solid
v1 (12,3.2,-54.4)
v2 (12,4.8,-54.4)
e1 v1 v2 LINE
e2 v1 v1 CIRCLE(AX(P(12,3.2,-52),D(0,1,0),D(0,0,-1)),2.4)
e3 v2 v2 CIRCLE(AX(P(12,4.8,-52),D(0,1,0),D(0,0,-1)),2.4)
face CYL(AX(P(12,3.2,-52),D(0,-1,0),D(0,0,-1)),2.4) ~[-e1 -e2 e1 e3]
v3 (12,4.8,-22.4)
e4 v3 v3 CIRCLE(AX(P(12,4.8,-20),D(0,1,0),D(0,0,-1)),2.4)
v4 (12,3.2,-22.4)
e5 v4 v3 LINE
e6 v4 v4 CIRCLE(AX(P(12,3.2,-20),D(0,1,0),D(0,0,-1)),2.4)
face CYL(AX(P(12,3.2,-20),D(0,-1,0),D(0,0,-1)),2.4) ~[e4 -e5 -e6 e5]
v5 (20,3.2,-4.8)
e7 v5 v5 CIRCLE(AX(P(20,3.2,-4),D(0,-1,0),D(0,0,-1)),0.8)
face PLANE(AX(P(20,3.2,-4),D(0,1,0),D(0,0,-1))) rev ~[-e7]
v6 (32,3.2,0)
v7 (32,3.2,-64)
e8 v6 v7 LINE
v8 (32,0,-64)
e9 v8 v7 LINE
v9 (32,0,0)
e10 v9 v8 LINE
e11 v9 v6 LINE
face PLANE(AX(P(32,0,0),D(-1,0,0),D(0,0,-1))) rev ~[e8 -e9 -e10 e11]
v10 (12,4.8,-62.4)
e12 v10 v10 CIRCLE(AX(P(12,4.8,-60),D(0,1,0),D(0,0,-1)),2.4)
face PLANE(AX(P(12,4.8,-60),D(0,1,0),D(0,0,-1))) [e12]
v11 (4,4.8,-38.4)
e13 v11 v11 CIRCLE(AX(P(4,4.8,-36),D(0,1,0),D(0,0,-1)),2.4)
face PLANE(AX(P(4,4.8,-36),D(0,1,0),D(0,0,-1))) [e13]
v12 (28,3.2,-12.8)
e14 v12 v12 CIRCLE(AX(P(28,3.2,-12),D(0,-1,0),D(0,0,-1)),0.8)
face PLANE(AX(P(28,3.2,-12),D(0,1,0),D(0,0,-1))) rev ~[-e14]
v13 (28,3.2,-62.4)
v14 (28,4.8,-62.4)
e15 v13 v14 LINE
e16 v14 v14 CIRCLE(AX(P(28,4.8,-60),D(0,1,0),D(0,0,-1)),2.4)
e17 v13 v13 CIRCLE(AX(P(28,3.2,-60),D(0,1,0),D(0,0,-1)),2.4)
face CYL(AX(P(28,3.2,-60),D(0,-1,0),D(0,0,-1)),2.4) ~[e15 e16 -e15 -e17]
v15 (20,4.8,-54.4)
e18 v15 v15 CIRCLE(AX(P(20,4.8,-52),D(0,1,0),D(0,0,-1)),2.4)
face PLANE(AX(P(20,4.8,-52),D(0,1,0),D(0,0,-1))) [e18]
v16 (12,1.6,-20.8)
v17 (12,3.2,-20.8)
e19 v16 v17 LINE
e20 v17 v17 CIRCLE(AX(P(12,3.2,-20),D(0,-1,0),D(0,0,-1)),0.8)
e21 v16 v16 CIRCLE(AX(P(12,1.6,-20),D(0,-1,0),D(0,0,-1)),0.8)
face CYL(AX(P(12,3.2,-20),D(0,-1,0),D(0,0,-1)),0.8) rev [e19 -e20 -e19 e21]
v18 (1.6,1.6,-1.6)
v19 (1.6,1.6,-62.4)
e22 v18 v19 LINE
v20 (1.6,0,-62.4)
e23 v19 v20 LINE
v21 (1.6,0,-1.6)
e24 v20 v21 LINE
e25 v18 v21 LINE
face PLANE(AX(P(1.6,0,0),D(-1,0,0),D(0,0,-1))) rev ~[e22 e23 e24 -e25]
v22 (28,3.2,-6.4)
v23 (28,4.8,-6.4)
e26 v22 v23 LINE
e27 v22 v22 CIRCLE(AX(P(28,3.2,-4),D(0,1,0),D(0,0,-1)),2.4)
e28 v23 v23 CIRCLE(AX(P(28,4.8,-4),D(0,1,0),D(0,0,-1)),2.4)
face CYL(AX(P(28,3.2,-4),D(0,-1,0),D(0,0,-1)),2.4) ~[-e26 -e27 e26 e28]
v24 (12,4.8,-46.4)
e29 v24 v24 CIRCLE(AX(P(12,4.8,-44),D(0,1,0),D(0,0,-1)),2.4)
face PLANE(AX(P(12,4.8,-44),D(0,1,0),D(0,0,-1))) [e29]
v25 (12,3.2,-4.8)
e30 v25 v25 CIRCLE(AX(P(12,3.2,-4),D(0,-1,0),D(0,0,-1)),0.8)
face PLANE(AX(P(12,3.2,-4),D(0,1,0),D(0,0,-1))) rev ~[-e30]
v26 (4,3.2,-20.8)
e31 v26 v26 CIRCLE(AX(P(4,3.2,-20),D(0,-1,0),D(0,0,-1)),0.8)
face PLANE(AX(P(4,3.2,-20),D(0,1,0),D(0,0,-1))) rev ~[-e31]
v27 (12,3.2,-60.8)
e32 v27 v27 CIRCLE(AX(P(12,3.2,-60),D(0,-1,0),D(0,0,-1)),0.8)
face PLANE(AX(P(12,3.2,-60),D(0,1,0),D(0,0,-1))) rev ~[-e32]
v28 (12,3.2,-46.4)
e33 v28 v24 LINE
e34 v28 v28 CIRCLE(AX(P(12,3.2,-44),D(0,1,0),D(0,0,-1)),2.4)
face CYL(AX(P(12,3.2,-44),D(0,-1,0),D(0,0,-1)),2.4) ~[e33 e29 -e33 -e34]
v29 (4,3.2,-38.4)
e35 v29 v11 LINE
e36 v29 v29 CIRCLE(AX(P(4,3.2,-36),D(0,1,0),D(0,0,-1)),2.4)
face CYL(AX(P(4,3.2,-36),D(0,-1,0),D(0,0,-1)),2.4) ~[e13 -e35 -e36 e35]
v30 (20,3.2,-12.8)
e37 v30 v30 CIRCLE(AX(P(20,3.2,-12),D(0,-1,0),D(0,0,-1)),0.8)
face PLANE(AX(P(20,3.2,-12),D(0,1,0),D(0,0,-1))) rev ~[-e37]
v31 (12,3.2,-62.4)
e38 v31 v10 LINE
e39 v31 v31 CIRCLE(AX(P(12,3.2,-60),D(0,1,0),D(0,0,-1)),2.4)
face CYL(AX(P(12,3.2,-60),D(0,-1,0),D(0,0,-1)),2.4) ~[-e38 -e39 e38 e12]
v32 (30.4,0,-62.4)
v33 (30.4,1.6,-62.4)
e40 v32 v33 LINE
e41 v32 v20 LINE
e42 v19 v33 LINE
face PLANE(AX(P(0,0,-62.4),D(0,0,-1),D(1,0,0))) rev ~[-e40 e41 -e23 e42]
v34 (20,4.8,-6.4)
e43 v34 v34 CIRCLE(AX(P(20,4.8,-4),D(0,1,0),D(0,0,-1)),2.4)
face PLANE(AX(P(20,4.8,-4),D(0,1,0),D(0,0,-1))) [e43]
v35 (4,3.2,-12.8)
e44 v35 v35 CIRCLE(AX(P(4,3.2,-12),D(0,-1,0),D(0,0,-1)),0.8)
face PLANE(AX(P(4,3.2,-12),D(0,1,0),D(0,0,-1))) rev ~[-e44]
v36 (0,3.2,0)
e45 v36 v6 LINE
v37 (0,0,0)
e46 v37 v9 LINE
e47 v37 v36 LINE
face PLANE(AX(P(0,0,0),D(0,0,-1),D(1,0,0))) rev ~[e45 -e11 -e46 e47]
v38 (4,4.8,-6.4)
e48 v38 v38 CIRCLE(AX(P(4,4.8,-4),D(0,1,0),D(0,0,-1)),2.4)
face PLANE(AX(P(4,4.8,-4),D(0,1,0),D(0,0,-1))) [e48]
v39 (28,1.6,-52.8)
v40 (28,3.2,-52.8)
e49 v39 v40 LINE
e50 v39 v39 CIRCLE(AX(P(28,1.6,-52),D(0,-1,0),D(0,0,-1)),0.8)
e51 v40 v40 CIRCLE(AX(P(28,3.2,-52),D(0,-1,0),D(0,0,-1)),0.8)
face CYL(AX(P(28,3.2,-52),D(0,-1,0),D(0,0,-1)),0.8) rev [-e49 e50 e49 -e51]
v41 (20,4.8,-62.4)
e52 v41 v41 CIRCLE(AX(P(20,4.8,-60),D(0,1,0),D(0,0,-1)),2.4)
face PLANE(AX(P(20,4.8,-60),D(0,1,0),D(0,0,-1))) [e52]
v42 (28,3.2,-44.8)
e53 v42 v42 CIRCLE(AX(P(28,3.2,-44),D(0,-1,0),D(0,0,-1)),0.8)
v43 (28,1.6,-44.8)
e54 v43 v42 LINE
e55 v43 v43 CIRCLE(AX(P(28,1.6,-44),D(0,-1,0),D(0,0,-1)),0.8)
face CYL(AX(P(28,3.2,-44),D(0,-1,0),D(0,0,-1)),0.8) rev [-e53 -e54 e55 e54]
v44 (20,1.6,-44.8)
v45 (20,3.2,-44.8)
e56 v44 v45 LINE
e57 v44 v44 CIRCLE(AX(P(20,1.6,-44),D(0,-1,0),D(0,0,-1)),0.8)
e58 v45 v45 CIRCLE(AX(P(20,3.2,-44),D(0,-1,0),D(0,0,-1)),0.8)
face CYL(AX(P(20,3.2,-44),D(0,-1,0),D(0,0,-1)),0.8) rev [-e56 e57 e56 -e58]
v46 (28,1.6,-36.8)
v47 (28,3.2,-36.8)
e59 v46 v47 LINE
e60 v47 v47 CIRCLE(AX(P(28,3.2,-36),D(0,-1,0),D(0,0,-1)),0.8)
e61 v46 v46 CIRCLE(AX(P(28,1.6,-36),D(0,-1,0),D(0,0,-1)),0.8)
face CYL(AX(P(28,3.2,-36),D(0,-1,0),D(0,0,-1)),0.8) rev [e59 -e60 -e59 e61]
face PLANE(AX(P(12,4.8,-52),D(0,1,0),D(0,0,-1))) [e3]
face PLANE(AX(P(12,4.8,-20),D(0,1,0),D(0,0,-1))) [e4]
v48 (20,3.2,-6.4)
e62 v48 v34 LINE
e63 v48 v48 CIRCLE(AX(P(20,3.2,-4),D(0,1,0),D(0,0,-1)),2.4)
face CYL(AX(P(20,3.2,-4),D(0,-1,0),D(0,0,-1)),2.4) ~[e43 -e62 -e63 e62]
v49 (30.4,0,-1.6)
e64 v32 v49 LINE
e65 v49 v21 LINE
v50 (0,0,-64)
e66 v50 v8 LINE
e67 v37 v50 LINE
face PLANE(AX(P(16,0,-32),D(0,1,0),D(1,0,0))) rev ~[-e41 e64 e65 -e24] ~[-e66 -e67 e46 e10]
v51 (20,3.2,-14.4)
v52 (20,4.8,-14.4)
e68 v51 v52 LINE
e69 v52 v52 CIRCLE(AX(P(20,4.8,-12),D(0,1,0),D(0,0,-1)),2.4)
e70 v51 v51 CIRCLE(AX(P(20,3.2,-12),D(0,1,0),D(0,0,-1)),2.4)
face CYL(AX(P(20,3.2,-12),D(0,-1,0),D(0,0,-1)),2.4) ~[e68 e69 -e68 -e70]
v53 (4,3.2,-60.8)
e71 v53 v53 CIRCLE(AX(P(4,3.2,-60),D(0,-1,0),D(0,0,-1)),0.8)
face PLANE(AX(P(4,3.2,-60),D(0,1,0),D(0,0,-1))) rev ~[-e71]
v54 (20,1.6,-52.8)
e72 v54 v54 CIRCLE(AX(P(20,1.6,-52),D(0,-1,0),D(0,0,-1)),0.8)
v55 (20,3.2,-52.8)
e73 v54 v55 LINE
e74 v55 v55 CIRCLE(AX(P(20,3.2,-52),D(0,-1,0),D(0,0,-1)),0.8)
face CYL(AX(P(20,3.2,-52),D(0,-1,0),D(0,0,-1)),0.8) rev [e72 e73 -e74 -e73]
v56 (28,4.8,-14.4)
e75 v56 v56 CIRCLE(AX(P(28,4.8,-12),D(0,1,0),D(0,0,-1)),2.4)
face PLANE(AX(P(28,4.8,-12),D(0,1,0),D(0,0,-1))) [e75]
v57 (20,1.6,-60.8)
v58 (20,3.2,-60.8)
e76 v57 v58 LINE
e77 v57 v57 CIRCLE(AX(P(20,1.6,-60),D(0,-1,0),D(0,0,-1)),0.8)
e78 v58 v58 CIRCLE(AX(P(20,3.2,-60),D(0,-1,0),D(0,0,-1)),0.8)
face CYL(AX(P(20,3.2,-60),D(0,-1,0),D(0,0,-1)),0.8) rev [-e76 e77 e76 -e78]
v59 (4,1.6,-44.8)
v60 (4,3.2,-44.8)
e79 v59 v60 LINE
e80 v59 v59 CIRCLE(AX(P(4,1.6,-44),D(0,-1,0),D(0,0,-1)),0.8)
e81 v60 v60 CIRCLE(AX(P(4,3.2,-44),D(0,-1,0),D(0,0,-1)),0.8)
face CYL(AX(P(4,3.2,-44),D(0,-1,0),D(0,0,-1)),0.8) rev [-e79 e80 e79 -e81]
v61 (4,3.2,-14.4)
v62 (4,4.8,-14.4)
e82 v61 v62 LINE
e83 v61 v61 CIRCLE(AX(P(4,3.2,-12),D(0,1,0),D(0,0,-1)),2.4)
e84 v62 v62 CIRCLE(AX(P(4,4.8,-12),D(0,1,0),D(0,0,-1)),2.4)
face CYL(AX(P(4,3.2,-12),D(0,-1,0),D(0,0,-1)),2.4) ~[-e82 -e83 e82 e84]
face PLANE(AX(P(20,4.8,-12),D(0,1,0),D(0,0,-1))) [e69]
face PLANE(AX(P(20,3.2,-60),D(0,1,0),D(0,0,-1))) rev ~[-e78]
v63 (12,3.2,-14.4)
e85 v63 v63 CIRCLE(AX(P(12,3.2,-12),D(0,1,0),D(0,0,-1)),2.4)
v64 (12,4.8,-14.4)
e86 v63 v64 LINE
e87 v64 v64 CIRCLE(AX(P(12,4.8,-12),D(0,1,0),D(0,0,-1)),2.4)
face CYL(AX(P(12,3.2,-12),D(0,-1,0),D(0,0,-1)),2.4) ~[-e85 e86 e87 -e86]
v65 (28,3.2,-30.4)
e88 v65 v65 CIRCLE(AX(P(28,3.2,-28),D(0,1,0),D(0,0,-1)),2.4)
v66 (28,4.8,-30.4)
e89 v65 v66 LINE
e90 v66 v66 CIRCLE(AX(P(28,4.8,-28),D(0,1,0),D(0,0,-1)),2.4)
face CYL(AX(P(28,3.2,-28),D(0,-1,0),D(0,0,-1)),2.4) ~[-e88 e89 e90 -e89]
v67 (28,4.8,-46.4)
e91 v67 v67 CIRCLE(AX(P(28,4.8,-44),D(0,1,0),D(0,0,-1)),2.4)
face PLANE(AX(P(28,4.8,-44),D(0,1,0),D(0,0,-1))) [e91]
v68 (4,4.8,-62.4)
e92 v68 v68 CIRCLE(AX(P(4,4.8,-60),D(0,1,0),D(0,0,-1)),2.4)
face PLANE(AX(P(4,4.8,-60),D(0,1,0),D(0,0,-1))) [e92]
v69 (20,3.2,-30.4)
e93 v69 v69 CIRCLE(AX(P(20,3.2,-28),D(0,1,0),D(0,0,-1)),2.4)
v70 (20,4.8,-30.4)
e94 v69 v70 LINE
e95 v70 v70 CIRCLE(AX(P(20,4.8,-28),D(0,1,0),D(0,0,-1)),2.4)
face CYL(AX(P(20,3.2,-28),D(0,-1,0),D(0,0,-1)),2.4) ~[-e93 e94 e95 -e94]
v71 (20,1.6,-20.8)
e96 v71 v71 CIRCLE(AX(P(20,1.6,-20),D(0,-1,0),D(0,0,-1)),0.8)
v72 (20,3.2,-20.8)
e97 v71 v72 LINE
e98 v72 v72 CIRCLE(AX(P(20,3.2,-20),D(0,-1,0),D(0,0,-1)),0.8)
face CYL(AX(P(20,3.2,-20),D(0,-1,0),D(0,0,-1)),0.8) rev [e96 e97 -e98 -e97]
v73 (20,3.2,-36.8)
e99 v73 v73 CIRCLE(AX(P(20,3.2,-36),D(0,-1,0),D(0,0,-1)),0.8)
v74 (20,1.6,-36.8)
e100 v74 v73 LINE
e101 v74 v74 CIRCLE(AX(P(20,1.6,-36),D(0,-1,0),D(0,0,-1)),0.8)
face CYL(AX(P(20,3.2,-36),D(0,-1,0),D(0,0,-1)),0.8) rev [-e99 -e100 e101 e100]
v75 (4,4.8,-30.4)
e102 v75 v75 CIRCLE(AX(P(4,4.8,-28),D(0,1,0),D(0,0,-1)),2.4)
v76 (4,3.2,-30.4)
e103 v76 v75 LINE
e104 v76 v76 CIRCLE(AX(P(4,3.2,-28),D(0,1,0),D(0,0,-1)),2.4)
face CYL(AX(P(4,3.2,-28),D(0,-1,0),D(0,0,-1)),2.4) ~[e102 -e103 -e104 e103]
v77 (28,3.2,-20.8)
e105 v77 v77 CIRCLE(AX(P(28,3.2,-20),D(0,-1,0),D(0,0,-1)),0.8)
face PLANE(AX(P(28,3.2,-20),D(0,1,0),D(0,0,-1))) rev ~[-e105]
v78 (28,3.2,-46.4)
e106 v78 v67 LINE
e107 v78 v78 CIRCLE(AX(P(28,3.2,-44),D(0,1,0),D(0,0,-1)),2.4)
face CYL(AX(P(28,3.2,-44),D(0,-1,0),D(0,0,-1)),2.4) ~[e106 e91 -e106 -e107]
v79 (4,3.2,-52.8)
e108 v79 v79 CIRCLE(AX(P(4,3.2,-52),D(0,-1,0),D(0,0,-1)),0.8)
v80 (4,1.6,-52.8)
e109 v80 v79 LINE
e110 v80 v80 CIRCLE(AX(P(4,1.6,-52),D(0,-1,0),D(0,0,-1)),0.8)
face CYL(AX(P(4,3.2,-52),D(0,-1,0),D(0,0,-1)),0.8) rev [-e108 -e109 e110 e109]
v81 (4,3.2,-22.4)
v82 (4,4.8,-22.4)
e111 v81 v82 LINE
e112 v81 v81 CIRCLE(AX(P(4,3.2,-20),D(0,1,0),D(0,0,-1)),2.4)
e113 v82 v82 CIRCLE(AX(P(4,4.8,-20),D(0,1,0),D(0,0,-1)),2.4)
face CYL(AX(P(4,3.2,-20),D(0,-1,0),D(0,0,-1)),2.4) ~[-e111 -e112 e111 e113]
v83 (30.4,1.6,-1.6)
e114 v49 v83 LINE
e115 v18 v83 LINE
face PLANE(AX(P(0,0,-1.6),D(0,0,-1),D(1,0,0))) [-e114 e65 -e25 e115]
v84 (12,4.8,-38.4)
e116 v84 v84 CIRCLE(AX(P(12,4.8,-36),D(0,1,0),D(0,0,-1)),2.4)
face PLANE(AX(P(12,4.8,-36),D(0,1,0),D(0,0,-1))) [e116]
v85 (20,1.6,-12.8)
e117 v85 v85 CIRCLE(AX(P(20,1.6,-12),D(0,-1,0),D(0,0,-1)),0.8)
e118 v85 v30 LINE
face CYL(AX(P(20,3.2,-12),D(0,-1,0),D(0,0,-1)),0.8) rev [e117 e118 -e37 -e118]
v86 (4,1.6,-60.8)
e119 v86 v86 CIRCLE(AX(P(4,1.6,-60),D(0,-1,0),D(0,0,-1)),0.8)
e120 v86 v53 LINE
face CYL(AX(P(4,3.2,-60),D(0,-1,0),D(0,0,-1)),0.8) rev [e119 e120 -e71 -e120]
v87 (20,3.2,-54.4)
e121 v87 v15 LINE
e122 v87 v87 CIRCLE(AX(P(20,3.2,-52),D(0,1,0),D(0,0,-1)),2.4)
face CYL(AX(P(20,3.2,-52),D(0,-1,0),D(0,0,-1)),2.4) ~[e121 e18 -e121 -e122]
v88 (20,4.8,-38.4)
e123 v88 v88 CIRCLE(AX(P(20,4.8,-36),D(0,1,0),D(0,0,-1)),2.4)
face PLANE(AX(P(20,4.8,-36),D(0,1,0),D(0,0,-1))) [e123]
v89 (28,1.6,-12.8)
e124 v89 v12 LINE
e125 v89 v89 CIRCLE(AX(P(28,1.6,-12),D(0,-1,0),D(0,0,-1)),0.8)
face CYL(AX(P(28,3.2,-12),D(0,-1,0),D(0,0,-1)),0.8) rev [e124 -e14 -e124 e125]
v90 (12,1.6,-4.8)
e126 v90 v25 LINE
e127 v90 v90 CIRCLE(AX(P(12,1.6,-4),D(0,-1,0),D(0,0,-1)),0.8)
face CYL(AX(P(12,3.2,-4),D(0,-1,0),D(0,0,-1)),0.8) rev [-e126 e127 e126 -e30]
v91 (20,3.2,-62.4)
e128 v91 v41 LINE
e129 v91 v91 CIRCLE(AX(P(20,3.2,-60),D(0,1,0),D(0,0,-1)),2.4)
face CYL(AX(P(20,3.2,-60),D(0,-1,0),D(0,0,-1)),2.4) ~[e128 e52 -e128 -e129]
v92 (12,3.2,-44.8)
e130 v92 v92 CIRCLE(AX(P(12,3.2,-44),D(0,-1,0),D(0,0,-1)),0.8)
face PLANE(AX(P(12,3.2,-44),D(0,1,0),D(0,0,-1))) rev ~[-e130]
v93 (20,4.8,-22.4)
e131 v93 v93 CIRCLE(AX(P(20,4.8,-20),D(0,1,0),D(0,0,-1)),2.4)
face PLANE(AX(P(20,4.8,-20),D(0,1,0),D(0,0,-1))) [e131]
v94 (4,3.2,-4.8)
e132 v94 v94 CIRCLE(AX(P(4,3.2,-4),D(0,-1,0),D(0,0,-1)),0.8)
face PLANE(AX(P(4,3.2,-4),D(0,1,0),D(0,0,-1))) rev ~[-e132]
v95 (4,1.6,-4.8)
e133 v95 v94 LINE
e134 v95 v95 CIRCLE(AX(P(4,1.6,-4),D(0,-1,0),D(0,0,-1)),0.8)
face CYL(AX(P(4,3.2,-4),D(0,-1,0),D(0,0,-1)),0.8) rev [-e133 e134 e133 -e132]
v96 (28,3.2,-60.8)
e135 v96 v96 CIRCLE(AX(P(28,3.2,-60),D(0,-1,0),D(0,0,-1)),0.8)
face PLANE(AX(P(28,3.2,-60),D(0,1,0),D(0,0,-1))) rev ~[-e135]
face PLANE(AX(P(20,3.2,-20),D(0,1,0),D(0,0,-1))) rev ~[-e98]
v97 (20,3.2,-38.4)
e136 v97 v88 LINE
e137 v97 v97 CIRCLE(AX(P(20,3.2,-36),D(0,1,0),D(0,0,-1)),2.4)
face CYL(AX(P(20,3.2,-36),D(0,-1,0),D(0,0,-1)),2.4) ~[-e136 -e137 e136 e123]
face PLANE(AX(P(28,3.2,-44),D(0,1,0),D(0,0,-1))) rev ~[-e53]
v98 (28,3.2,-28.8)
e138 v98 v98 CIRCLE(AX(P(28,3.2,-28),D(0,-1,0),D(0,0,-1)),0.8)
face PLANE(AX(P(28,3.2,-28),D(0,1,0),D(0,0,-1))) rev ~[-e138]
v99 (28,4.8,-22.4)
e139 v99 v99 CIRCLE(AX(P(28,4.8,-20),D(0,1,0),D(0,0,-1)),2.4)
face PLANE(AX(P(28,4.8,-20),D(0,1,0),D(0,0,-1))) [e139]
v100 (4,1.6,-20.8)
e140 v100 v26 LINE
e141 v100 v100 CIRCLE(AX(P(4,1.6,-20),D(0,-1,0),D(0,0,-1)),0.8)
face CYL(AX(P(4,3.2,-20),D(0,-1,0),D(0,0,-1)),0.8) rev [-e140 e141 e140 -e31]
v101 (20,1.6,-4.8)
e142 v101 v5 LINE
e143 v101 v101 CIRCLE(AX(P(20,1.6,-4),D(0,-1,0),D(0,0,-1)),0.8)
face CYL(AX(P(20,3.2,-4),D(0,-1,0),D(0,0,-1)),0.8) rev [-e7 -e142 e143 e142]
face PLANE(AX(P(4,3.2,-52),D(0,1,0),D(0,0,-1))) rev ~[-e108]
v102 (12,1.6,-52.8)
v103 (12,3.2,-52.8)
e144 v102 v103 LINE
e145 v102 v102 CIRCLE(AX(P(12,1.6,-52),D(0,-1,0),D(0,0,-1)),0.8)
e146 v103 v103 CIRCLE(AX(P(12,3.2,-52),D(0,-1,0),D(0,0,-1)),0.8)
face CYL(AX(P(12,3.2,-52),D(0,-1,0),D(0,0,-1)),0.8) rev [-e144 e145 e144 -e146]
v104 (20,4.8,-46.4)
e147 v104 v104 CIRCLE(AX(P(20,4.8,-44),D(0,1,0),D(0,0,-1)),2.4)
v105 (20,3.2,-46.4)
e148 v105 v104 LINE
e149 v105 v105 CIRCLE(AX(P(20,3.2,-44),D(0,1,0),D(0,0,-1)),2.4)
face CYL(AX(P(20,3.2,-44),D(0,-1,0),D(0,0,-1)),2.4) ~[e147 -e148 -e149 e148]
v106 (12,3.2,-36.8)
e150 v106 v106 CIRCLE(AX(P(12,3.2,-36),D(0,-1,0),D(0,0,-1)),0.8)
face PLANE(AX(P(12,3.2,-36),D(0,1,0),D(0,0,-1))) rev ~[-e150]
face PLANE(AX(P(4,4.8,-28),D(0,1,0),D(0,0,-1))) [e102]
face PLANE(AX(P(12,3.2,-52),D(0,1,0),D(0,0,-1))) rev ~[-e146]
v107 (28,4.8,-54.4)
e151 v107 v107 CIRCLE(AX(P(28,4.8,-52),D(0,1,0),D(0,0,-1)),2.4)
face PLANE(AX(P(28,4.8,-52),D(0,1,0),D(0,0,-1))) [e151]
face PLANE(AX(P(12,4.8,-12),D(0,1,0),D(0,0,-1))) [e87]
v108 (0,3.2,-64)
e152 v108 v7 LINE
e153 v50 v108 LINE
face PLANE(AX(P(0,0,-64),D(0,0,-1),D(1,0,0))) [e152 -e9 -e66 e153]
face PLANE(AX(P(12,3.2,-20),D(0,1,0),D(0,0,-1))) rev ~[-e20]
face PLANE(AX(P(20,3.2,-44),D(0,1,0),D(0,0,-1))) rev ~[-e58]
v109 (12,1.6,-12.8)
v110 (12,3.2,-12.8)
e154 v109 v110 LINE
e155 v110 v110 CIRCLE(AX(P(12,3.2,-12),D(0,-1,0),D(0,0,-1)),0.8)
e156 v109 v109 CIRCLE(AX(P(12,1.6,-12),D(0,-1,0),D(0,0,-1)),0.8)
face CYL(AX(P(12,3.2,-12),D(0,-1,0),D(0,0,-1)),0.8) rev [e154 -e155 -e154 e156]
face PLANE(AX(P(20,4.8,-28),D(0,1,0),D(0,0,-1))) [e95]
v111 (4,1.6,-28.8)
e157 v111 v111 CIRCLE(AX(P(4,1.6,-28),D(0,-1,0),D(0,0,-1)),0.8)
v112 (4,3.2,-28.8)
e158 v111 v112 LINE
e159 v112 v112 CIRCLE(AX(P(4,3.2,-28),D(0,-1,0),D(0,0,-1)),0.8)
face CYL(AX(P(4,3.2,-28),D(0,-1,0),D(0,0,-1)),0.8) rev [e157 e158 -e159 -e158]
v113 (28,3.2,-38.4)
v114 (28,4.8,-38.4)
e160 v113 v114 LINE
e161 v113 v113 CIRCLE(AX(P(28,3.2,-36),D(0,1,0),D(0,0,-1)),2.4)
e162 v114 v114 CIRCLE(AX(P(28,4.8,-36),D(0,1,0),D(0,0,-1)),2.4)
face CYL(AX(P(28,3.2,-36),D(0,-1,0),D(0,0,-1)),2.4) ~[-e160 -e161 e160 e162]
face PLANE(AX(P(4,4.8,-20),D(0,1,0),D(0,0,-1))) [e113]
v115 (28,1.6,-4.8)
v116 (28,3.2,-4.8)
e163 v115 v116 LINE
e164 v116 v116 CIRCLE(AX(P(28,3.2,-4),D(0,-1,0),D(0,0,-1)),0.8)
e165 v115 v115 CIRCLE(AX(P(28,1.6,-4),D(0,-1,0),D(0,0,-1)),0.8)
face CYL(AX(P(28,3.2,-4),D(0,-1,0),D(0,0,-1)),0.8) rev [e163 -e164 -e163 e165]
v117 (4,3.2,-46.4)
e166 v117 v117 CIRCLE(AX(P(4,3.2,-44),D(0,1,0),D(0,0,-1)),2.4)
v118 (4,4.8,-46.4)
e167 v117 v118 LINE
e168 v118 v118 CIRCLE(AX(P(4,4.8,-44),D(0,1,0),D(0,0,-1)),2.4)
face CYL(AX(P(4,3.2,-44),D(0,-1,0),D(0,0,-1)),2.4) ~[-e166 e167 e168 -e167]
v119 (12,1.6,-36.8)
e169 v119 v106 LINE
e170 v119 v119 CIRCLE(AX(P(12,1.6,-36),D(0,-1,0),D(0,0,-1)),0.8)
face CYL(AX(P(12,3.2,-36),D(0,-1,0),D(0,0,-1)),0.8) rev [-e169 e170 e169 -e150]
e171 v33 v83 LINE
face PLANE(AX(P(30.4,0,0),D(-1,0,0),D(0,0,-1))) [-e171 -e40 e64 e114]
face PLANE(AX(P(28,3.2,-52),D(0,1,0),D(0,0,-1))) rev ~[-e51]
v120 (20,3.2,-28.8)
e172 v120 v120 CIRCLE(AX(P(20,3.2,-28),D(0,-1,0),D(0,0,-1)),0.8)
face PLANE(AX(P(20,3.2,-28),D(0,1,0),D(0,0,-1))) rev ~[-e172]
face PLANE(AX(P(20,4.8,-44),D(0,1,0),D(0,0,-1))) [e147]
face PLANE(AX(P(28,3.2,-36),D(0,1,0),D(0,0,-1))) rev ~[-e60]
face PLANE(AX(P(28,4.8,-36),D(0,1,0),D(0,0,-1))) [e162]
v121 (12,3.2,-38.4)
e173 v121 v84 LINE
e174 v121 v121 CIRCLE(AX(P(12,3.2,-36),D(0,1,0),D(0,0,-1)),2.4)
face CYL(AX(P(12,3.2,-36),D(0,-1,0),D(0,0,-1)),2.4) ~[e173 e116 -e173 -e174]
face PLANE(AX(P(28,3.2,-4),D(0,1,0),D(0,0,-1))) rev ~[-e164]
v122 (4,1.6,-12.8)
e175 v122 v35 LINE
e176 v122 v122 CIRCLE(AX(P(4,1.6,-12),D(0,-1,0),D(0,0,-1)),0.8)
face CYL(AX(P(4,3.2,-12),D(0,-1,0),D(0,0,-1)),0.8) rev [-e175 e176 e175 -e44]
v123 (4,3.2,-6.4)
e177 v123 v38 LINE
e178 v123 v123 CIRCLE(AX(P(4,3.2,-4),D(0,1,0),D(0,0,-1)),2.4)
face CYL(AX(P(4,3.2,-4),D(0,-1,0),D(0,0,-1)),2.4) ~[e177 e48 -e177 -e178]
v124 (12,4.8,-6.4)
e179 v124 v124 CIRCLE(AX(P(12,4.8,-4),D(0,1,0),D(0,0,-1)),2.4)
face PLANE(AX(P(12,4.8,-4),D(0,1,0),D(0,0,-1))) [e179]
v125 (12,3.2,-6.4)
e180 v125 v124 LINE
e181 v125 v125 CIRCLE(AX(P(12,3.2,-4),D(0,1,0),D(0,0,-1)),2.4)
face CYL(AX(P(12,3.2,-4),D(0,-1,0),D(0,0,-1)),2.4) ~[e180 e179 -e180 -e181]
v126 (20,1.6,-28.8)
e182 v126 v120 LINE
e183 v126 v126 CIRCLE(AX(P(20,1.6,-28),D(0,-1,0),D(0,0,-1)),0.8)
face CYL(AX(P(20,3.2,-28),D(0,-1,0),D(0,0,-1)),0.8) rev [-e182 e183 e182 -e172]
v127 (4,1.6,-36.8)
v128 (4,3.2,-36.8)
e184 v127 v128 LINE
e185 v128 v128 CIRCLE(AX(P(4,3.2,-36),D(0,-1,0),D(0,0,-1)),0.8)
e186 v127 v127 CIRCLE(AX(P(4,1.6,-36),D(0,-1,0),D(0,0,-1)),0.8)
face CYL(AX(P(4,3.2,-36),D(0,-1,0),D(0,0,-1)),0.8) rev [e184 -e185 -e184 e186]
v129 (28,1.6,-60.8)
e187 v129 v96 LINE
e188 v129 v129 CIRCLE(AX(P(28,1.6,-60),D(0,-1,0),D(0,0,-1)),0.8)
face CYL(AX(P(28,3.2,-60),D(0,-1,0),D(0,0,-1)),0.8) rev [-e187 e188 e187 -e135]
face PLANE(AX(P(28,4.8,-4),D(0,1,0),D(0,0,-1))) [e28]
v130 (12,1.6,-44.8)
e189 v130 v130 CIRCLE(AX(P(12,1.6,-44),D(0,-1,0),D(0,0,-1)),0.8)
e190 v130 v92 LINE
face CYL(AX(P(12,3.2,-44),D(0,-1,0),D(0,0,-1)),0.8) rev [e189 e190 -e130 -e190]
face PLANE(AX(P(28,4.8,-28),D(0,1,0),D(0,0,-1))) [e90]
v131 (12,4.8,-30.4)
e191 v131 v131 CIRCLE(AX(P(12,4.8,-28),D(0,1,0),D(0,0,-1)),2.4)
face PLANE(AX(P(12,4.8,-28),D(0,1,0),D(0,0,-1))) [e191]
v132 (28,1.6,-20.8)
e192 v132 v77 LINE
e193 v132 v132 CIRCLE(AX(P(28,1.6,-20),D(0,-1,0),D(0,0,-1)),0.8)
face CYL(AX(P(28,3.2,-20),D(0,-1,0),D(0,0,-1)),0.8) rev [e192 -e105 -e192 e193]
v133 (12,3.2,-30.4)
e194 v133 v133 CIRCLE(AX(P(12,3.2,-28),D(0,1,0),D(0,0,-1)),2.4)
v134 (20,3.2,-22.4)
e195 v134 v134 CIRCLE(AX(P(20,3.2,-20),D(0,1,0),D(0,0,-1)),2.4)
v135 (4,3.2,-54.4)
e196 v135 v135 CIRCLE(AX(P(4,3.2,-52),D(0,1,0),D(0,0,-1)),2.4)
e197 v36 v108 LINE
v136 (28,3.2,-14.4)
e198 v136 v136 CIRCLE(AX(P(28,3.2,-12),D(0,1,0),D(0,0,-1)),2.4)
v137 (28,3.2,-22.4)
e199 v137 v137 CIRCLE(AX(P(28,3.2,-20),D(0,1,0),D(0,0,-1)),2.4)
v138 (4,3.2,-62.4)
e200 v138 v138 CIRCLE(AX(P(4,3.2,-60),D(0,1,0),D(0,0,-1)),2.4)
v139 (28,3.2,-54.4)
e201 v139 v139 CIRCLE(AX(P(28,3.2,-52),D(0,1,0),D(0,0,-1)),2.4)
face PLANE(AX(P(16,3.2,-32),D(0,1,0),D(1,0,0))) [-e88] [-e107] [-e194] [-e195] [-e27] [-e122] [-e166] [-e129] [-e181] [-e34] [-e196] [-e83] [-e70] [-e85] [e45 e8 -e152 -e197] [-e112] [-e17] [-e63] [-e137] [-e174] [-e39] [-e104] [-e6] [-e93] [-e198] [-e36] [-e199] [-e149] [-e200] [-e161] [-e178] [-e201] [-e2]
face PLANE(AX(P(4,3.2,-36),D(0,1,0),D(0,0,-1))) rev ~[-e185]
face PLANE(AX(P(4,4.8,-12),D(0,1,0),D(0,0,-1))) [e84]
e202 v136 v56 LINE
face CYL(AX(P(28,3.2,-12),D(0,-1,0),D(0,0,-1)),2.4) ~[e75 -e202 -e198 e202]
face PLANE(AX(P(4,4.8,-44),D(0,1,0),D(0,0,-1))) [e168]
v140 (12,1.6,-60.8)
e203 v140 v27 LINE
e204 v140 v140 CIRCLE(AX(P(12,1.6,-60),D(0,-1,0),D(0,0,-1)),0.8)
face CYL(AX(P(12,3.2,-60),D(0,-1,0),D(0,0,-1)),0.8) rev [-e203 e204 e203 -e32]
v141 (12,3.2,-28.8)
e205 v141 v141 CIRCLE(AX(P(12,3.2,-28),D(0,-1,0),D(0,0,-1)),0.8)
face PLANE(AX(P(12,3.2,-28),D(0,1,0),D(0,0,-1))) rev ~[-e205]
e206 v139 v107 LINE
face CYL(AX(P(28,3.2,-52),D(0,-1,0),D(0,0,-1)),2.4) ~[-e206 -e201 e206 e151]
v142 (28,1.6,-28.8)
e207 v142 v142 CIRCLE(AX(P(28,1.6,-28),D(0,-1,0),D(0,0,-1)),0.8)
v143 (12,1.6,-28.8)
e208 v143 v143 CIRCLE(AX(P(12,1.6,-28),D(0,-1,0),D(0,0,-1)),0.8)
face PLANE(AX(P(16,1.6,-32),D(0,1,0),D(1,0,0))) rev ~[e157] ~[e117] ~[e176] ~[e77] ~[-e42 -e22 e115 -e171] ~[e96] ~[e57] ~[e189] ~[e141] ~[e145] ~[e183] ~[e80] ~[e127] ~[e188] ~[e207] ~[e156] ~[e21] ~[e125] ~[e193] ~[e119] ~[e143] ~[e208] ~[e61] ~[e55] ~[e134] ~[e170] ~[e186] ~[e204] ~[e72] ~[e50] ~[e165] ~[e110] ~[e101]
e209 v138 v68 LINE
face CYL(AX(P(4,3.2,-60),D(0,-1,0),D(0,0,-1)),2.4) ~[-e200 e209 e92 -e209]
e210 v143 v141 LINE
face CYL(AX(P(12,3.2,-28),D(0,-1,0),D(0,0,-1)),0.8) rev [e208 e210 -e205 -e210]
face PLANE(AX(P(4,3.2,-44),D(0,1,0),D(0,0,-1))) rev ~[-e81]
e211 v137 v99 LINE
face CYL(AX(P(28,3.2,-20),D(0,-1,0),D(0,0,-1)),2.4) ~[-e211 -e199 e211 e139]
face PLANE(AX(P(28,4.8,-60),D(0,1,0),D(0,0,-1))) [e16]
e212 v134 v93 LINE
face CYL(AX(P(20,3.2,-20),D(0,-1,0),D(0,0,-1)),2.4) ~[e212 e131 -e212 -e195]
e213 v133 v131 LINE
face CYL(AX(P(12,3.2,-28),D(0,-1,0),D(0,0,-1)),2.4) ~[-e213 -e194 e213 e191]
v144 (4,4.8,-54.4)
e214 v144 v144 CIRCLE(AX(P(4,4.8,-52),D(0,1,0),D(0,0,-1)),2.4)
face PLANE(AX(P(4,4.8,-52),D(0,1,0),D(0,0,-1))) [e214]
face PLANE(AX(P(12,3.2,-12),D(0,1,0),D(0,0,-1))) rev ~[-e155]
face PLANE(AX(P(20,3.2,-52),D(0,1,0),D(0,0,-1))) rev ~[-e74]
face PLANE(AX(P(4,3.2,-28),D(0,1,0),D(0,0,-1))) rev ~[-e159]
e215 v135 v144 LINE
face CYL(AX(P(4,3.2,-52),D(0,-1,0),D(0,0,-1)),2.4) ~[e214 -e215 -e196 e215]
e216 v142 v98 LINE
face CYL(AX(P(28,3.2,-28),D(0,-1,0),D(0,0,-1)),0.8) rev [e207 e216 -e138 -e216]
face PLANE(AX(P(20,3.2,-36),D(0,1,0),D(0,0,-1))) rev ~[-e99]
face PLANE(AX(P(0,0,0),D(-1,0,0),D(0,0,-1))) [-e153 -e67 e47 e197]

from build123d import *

# Parameters (mm, degrees)
SKETCH1_W            = 32
SKETCH1_H            = 64
BOSS_EXTRUDE1_DEPTH  = 3.2
SKETCH2_R            = 2.4
BOSS_EXTRUDE2_DEPTH  = 1.6
LPATTERN1_COUNT      = 4
LPATTERN1_PITCH      = 8
LPATTERN1_COUNT_DIR2 = 8
LPATTERN1_PITCH_DIR2 = 8
SHELL1_T             = -1.6


with BuildPart() as part:
    # Sketch1 → Boss-Extrude1 (new body)
    with BuildSketch(Plane(origin=(0, 0, 0), x_dir=(1, 0, 0), z_dir=(0, 1, 0))):
        with Locations((16, 32)):
            Rectangle(SKETCH1_W, SKETCH1_H)
    extrude(amount=BOSS_EXTRUDE1_DEPTH)

    # Sketch2 → Boss-Extrude2 (add)
    with BuildSketch(Plane(origin=(0, 3.2, 0), x_dir=(1, 0, 0), z_dir=(0, 1, 0))):
        with Locations(Location((28, 4, 0), (0, 0, 90))):
            Circle(SKETCH2_R)
    boss_extrude2 = extrude(amount=BOSS_EXTRUDE2_DEPTH)

    # LPattern1: Boss-Extrude2 4 × 8
    with Locations(*[(-i * LPATTERN1_PITCH, 0, -j * LPATTERN1_PITCH_DIR2) for i in range(LPATTERN1_COUNT) for j in range(LPATTERN1_COUNT_DIR2) if (i, j) != (0, 0)]):
        add(boss_extrude2)

    # Shell1
    shell1_openings = [part.faces().sort_by_distance(p)[0] for p in [
        (16, 0, -32),
    ]]
    offset(amount=SHELL1_T, openings=shell1_openings, kind=Kind.INTERSECTION)


solid = part.part
